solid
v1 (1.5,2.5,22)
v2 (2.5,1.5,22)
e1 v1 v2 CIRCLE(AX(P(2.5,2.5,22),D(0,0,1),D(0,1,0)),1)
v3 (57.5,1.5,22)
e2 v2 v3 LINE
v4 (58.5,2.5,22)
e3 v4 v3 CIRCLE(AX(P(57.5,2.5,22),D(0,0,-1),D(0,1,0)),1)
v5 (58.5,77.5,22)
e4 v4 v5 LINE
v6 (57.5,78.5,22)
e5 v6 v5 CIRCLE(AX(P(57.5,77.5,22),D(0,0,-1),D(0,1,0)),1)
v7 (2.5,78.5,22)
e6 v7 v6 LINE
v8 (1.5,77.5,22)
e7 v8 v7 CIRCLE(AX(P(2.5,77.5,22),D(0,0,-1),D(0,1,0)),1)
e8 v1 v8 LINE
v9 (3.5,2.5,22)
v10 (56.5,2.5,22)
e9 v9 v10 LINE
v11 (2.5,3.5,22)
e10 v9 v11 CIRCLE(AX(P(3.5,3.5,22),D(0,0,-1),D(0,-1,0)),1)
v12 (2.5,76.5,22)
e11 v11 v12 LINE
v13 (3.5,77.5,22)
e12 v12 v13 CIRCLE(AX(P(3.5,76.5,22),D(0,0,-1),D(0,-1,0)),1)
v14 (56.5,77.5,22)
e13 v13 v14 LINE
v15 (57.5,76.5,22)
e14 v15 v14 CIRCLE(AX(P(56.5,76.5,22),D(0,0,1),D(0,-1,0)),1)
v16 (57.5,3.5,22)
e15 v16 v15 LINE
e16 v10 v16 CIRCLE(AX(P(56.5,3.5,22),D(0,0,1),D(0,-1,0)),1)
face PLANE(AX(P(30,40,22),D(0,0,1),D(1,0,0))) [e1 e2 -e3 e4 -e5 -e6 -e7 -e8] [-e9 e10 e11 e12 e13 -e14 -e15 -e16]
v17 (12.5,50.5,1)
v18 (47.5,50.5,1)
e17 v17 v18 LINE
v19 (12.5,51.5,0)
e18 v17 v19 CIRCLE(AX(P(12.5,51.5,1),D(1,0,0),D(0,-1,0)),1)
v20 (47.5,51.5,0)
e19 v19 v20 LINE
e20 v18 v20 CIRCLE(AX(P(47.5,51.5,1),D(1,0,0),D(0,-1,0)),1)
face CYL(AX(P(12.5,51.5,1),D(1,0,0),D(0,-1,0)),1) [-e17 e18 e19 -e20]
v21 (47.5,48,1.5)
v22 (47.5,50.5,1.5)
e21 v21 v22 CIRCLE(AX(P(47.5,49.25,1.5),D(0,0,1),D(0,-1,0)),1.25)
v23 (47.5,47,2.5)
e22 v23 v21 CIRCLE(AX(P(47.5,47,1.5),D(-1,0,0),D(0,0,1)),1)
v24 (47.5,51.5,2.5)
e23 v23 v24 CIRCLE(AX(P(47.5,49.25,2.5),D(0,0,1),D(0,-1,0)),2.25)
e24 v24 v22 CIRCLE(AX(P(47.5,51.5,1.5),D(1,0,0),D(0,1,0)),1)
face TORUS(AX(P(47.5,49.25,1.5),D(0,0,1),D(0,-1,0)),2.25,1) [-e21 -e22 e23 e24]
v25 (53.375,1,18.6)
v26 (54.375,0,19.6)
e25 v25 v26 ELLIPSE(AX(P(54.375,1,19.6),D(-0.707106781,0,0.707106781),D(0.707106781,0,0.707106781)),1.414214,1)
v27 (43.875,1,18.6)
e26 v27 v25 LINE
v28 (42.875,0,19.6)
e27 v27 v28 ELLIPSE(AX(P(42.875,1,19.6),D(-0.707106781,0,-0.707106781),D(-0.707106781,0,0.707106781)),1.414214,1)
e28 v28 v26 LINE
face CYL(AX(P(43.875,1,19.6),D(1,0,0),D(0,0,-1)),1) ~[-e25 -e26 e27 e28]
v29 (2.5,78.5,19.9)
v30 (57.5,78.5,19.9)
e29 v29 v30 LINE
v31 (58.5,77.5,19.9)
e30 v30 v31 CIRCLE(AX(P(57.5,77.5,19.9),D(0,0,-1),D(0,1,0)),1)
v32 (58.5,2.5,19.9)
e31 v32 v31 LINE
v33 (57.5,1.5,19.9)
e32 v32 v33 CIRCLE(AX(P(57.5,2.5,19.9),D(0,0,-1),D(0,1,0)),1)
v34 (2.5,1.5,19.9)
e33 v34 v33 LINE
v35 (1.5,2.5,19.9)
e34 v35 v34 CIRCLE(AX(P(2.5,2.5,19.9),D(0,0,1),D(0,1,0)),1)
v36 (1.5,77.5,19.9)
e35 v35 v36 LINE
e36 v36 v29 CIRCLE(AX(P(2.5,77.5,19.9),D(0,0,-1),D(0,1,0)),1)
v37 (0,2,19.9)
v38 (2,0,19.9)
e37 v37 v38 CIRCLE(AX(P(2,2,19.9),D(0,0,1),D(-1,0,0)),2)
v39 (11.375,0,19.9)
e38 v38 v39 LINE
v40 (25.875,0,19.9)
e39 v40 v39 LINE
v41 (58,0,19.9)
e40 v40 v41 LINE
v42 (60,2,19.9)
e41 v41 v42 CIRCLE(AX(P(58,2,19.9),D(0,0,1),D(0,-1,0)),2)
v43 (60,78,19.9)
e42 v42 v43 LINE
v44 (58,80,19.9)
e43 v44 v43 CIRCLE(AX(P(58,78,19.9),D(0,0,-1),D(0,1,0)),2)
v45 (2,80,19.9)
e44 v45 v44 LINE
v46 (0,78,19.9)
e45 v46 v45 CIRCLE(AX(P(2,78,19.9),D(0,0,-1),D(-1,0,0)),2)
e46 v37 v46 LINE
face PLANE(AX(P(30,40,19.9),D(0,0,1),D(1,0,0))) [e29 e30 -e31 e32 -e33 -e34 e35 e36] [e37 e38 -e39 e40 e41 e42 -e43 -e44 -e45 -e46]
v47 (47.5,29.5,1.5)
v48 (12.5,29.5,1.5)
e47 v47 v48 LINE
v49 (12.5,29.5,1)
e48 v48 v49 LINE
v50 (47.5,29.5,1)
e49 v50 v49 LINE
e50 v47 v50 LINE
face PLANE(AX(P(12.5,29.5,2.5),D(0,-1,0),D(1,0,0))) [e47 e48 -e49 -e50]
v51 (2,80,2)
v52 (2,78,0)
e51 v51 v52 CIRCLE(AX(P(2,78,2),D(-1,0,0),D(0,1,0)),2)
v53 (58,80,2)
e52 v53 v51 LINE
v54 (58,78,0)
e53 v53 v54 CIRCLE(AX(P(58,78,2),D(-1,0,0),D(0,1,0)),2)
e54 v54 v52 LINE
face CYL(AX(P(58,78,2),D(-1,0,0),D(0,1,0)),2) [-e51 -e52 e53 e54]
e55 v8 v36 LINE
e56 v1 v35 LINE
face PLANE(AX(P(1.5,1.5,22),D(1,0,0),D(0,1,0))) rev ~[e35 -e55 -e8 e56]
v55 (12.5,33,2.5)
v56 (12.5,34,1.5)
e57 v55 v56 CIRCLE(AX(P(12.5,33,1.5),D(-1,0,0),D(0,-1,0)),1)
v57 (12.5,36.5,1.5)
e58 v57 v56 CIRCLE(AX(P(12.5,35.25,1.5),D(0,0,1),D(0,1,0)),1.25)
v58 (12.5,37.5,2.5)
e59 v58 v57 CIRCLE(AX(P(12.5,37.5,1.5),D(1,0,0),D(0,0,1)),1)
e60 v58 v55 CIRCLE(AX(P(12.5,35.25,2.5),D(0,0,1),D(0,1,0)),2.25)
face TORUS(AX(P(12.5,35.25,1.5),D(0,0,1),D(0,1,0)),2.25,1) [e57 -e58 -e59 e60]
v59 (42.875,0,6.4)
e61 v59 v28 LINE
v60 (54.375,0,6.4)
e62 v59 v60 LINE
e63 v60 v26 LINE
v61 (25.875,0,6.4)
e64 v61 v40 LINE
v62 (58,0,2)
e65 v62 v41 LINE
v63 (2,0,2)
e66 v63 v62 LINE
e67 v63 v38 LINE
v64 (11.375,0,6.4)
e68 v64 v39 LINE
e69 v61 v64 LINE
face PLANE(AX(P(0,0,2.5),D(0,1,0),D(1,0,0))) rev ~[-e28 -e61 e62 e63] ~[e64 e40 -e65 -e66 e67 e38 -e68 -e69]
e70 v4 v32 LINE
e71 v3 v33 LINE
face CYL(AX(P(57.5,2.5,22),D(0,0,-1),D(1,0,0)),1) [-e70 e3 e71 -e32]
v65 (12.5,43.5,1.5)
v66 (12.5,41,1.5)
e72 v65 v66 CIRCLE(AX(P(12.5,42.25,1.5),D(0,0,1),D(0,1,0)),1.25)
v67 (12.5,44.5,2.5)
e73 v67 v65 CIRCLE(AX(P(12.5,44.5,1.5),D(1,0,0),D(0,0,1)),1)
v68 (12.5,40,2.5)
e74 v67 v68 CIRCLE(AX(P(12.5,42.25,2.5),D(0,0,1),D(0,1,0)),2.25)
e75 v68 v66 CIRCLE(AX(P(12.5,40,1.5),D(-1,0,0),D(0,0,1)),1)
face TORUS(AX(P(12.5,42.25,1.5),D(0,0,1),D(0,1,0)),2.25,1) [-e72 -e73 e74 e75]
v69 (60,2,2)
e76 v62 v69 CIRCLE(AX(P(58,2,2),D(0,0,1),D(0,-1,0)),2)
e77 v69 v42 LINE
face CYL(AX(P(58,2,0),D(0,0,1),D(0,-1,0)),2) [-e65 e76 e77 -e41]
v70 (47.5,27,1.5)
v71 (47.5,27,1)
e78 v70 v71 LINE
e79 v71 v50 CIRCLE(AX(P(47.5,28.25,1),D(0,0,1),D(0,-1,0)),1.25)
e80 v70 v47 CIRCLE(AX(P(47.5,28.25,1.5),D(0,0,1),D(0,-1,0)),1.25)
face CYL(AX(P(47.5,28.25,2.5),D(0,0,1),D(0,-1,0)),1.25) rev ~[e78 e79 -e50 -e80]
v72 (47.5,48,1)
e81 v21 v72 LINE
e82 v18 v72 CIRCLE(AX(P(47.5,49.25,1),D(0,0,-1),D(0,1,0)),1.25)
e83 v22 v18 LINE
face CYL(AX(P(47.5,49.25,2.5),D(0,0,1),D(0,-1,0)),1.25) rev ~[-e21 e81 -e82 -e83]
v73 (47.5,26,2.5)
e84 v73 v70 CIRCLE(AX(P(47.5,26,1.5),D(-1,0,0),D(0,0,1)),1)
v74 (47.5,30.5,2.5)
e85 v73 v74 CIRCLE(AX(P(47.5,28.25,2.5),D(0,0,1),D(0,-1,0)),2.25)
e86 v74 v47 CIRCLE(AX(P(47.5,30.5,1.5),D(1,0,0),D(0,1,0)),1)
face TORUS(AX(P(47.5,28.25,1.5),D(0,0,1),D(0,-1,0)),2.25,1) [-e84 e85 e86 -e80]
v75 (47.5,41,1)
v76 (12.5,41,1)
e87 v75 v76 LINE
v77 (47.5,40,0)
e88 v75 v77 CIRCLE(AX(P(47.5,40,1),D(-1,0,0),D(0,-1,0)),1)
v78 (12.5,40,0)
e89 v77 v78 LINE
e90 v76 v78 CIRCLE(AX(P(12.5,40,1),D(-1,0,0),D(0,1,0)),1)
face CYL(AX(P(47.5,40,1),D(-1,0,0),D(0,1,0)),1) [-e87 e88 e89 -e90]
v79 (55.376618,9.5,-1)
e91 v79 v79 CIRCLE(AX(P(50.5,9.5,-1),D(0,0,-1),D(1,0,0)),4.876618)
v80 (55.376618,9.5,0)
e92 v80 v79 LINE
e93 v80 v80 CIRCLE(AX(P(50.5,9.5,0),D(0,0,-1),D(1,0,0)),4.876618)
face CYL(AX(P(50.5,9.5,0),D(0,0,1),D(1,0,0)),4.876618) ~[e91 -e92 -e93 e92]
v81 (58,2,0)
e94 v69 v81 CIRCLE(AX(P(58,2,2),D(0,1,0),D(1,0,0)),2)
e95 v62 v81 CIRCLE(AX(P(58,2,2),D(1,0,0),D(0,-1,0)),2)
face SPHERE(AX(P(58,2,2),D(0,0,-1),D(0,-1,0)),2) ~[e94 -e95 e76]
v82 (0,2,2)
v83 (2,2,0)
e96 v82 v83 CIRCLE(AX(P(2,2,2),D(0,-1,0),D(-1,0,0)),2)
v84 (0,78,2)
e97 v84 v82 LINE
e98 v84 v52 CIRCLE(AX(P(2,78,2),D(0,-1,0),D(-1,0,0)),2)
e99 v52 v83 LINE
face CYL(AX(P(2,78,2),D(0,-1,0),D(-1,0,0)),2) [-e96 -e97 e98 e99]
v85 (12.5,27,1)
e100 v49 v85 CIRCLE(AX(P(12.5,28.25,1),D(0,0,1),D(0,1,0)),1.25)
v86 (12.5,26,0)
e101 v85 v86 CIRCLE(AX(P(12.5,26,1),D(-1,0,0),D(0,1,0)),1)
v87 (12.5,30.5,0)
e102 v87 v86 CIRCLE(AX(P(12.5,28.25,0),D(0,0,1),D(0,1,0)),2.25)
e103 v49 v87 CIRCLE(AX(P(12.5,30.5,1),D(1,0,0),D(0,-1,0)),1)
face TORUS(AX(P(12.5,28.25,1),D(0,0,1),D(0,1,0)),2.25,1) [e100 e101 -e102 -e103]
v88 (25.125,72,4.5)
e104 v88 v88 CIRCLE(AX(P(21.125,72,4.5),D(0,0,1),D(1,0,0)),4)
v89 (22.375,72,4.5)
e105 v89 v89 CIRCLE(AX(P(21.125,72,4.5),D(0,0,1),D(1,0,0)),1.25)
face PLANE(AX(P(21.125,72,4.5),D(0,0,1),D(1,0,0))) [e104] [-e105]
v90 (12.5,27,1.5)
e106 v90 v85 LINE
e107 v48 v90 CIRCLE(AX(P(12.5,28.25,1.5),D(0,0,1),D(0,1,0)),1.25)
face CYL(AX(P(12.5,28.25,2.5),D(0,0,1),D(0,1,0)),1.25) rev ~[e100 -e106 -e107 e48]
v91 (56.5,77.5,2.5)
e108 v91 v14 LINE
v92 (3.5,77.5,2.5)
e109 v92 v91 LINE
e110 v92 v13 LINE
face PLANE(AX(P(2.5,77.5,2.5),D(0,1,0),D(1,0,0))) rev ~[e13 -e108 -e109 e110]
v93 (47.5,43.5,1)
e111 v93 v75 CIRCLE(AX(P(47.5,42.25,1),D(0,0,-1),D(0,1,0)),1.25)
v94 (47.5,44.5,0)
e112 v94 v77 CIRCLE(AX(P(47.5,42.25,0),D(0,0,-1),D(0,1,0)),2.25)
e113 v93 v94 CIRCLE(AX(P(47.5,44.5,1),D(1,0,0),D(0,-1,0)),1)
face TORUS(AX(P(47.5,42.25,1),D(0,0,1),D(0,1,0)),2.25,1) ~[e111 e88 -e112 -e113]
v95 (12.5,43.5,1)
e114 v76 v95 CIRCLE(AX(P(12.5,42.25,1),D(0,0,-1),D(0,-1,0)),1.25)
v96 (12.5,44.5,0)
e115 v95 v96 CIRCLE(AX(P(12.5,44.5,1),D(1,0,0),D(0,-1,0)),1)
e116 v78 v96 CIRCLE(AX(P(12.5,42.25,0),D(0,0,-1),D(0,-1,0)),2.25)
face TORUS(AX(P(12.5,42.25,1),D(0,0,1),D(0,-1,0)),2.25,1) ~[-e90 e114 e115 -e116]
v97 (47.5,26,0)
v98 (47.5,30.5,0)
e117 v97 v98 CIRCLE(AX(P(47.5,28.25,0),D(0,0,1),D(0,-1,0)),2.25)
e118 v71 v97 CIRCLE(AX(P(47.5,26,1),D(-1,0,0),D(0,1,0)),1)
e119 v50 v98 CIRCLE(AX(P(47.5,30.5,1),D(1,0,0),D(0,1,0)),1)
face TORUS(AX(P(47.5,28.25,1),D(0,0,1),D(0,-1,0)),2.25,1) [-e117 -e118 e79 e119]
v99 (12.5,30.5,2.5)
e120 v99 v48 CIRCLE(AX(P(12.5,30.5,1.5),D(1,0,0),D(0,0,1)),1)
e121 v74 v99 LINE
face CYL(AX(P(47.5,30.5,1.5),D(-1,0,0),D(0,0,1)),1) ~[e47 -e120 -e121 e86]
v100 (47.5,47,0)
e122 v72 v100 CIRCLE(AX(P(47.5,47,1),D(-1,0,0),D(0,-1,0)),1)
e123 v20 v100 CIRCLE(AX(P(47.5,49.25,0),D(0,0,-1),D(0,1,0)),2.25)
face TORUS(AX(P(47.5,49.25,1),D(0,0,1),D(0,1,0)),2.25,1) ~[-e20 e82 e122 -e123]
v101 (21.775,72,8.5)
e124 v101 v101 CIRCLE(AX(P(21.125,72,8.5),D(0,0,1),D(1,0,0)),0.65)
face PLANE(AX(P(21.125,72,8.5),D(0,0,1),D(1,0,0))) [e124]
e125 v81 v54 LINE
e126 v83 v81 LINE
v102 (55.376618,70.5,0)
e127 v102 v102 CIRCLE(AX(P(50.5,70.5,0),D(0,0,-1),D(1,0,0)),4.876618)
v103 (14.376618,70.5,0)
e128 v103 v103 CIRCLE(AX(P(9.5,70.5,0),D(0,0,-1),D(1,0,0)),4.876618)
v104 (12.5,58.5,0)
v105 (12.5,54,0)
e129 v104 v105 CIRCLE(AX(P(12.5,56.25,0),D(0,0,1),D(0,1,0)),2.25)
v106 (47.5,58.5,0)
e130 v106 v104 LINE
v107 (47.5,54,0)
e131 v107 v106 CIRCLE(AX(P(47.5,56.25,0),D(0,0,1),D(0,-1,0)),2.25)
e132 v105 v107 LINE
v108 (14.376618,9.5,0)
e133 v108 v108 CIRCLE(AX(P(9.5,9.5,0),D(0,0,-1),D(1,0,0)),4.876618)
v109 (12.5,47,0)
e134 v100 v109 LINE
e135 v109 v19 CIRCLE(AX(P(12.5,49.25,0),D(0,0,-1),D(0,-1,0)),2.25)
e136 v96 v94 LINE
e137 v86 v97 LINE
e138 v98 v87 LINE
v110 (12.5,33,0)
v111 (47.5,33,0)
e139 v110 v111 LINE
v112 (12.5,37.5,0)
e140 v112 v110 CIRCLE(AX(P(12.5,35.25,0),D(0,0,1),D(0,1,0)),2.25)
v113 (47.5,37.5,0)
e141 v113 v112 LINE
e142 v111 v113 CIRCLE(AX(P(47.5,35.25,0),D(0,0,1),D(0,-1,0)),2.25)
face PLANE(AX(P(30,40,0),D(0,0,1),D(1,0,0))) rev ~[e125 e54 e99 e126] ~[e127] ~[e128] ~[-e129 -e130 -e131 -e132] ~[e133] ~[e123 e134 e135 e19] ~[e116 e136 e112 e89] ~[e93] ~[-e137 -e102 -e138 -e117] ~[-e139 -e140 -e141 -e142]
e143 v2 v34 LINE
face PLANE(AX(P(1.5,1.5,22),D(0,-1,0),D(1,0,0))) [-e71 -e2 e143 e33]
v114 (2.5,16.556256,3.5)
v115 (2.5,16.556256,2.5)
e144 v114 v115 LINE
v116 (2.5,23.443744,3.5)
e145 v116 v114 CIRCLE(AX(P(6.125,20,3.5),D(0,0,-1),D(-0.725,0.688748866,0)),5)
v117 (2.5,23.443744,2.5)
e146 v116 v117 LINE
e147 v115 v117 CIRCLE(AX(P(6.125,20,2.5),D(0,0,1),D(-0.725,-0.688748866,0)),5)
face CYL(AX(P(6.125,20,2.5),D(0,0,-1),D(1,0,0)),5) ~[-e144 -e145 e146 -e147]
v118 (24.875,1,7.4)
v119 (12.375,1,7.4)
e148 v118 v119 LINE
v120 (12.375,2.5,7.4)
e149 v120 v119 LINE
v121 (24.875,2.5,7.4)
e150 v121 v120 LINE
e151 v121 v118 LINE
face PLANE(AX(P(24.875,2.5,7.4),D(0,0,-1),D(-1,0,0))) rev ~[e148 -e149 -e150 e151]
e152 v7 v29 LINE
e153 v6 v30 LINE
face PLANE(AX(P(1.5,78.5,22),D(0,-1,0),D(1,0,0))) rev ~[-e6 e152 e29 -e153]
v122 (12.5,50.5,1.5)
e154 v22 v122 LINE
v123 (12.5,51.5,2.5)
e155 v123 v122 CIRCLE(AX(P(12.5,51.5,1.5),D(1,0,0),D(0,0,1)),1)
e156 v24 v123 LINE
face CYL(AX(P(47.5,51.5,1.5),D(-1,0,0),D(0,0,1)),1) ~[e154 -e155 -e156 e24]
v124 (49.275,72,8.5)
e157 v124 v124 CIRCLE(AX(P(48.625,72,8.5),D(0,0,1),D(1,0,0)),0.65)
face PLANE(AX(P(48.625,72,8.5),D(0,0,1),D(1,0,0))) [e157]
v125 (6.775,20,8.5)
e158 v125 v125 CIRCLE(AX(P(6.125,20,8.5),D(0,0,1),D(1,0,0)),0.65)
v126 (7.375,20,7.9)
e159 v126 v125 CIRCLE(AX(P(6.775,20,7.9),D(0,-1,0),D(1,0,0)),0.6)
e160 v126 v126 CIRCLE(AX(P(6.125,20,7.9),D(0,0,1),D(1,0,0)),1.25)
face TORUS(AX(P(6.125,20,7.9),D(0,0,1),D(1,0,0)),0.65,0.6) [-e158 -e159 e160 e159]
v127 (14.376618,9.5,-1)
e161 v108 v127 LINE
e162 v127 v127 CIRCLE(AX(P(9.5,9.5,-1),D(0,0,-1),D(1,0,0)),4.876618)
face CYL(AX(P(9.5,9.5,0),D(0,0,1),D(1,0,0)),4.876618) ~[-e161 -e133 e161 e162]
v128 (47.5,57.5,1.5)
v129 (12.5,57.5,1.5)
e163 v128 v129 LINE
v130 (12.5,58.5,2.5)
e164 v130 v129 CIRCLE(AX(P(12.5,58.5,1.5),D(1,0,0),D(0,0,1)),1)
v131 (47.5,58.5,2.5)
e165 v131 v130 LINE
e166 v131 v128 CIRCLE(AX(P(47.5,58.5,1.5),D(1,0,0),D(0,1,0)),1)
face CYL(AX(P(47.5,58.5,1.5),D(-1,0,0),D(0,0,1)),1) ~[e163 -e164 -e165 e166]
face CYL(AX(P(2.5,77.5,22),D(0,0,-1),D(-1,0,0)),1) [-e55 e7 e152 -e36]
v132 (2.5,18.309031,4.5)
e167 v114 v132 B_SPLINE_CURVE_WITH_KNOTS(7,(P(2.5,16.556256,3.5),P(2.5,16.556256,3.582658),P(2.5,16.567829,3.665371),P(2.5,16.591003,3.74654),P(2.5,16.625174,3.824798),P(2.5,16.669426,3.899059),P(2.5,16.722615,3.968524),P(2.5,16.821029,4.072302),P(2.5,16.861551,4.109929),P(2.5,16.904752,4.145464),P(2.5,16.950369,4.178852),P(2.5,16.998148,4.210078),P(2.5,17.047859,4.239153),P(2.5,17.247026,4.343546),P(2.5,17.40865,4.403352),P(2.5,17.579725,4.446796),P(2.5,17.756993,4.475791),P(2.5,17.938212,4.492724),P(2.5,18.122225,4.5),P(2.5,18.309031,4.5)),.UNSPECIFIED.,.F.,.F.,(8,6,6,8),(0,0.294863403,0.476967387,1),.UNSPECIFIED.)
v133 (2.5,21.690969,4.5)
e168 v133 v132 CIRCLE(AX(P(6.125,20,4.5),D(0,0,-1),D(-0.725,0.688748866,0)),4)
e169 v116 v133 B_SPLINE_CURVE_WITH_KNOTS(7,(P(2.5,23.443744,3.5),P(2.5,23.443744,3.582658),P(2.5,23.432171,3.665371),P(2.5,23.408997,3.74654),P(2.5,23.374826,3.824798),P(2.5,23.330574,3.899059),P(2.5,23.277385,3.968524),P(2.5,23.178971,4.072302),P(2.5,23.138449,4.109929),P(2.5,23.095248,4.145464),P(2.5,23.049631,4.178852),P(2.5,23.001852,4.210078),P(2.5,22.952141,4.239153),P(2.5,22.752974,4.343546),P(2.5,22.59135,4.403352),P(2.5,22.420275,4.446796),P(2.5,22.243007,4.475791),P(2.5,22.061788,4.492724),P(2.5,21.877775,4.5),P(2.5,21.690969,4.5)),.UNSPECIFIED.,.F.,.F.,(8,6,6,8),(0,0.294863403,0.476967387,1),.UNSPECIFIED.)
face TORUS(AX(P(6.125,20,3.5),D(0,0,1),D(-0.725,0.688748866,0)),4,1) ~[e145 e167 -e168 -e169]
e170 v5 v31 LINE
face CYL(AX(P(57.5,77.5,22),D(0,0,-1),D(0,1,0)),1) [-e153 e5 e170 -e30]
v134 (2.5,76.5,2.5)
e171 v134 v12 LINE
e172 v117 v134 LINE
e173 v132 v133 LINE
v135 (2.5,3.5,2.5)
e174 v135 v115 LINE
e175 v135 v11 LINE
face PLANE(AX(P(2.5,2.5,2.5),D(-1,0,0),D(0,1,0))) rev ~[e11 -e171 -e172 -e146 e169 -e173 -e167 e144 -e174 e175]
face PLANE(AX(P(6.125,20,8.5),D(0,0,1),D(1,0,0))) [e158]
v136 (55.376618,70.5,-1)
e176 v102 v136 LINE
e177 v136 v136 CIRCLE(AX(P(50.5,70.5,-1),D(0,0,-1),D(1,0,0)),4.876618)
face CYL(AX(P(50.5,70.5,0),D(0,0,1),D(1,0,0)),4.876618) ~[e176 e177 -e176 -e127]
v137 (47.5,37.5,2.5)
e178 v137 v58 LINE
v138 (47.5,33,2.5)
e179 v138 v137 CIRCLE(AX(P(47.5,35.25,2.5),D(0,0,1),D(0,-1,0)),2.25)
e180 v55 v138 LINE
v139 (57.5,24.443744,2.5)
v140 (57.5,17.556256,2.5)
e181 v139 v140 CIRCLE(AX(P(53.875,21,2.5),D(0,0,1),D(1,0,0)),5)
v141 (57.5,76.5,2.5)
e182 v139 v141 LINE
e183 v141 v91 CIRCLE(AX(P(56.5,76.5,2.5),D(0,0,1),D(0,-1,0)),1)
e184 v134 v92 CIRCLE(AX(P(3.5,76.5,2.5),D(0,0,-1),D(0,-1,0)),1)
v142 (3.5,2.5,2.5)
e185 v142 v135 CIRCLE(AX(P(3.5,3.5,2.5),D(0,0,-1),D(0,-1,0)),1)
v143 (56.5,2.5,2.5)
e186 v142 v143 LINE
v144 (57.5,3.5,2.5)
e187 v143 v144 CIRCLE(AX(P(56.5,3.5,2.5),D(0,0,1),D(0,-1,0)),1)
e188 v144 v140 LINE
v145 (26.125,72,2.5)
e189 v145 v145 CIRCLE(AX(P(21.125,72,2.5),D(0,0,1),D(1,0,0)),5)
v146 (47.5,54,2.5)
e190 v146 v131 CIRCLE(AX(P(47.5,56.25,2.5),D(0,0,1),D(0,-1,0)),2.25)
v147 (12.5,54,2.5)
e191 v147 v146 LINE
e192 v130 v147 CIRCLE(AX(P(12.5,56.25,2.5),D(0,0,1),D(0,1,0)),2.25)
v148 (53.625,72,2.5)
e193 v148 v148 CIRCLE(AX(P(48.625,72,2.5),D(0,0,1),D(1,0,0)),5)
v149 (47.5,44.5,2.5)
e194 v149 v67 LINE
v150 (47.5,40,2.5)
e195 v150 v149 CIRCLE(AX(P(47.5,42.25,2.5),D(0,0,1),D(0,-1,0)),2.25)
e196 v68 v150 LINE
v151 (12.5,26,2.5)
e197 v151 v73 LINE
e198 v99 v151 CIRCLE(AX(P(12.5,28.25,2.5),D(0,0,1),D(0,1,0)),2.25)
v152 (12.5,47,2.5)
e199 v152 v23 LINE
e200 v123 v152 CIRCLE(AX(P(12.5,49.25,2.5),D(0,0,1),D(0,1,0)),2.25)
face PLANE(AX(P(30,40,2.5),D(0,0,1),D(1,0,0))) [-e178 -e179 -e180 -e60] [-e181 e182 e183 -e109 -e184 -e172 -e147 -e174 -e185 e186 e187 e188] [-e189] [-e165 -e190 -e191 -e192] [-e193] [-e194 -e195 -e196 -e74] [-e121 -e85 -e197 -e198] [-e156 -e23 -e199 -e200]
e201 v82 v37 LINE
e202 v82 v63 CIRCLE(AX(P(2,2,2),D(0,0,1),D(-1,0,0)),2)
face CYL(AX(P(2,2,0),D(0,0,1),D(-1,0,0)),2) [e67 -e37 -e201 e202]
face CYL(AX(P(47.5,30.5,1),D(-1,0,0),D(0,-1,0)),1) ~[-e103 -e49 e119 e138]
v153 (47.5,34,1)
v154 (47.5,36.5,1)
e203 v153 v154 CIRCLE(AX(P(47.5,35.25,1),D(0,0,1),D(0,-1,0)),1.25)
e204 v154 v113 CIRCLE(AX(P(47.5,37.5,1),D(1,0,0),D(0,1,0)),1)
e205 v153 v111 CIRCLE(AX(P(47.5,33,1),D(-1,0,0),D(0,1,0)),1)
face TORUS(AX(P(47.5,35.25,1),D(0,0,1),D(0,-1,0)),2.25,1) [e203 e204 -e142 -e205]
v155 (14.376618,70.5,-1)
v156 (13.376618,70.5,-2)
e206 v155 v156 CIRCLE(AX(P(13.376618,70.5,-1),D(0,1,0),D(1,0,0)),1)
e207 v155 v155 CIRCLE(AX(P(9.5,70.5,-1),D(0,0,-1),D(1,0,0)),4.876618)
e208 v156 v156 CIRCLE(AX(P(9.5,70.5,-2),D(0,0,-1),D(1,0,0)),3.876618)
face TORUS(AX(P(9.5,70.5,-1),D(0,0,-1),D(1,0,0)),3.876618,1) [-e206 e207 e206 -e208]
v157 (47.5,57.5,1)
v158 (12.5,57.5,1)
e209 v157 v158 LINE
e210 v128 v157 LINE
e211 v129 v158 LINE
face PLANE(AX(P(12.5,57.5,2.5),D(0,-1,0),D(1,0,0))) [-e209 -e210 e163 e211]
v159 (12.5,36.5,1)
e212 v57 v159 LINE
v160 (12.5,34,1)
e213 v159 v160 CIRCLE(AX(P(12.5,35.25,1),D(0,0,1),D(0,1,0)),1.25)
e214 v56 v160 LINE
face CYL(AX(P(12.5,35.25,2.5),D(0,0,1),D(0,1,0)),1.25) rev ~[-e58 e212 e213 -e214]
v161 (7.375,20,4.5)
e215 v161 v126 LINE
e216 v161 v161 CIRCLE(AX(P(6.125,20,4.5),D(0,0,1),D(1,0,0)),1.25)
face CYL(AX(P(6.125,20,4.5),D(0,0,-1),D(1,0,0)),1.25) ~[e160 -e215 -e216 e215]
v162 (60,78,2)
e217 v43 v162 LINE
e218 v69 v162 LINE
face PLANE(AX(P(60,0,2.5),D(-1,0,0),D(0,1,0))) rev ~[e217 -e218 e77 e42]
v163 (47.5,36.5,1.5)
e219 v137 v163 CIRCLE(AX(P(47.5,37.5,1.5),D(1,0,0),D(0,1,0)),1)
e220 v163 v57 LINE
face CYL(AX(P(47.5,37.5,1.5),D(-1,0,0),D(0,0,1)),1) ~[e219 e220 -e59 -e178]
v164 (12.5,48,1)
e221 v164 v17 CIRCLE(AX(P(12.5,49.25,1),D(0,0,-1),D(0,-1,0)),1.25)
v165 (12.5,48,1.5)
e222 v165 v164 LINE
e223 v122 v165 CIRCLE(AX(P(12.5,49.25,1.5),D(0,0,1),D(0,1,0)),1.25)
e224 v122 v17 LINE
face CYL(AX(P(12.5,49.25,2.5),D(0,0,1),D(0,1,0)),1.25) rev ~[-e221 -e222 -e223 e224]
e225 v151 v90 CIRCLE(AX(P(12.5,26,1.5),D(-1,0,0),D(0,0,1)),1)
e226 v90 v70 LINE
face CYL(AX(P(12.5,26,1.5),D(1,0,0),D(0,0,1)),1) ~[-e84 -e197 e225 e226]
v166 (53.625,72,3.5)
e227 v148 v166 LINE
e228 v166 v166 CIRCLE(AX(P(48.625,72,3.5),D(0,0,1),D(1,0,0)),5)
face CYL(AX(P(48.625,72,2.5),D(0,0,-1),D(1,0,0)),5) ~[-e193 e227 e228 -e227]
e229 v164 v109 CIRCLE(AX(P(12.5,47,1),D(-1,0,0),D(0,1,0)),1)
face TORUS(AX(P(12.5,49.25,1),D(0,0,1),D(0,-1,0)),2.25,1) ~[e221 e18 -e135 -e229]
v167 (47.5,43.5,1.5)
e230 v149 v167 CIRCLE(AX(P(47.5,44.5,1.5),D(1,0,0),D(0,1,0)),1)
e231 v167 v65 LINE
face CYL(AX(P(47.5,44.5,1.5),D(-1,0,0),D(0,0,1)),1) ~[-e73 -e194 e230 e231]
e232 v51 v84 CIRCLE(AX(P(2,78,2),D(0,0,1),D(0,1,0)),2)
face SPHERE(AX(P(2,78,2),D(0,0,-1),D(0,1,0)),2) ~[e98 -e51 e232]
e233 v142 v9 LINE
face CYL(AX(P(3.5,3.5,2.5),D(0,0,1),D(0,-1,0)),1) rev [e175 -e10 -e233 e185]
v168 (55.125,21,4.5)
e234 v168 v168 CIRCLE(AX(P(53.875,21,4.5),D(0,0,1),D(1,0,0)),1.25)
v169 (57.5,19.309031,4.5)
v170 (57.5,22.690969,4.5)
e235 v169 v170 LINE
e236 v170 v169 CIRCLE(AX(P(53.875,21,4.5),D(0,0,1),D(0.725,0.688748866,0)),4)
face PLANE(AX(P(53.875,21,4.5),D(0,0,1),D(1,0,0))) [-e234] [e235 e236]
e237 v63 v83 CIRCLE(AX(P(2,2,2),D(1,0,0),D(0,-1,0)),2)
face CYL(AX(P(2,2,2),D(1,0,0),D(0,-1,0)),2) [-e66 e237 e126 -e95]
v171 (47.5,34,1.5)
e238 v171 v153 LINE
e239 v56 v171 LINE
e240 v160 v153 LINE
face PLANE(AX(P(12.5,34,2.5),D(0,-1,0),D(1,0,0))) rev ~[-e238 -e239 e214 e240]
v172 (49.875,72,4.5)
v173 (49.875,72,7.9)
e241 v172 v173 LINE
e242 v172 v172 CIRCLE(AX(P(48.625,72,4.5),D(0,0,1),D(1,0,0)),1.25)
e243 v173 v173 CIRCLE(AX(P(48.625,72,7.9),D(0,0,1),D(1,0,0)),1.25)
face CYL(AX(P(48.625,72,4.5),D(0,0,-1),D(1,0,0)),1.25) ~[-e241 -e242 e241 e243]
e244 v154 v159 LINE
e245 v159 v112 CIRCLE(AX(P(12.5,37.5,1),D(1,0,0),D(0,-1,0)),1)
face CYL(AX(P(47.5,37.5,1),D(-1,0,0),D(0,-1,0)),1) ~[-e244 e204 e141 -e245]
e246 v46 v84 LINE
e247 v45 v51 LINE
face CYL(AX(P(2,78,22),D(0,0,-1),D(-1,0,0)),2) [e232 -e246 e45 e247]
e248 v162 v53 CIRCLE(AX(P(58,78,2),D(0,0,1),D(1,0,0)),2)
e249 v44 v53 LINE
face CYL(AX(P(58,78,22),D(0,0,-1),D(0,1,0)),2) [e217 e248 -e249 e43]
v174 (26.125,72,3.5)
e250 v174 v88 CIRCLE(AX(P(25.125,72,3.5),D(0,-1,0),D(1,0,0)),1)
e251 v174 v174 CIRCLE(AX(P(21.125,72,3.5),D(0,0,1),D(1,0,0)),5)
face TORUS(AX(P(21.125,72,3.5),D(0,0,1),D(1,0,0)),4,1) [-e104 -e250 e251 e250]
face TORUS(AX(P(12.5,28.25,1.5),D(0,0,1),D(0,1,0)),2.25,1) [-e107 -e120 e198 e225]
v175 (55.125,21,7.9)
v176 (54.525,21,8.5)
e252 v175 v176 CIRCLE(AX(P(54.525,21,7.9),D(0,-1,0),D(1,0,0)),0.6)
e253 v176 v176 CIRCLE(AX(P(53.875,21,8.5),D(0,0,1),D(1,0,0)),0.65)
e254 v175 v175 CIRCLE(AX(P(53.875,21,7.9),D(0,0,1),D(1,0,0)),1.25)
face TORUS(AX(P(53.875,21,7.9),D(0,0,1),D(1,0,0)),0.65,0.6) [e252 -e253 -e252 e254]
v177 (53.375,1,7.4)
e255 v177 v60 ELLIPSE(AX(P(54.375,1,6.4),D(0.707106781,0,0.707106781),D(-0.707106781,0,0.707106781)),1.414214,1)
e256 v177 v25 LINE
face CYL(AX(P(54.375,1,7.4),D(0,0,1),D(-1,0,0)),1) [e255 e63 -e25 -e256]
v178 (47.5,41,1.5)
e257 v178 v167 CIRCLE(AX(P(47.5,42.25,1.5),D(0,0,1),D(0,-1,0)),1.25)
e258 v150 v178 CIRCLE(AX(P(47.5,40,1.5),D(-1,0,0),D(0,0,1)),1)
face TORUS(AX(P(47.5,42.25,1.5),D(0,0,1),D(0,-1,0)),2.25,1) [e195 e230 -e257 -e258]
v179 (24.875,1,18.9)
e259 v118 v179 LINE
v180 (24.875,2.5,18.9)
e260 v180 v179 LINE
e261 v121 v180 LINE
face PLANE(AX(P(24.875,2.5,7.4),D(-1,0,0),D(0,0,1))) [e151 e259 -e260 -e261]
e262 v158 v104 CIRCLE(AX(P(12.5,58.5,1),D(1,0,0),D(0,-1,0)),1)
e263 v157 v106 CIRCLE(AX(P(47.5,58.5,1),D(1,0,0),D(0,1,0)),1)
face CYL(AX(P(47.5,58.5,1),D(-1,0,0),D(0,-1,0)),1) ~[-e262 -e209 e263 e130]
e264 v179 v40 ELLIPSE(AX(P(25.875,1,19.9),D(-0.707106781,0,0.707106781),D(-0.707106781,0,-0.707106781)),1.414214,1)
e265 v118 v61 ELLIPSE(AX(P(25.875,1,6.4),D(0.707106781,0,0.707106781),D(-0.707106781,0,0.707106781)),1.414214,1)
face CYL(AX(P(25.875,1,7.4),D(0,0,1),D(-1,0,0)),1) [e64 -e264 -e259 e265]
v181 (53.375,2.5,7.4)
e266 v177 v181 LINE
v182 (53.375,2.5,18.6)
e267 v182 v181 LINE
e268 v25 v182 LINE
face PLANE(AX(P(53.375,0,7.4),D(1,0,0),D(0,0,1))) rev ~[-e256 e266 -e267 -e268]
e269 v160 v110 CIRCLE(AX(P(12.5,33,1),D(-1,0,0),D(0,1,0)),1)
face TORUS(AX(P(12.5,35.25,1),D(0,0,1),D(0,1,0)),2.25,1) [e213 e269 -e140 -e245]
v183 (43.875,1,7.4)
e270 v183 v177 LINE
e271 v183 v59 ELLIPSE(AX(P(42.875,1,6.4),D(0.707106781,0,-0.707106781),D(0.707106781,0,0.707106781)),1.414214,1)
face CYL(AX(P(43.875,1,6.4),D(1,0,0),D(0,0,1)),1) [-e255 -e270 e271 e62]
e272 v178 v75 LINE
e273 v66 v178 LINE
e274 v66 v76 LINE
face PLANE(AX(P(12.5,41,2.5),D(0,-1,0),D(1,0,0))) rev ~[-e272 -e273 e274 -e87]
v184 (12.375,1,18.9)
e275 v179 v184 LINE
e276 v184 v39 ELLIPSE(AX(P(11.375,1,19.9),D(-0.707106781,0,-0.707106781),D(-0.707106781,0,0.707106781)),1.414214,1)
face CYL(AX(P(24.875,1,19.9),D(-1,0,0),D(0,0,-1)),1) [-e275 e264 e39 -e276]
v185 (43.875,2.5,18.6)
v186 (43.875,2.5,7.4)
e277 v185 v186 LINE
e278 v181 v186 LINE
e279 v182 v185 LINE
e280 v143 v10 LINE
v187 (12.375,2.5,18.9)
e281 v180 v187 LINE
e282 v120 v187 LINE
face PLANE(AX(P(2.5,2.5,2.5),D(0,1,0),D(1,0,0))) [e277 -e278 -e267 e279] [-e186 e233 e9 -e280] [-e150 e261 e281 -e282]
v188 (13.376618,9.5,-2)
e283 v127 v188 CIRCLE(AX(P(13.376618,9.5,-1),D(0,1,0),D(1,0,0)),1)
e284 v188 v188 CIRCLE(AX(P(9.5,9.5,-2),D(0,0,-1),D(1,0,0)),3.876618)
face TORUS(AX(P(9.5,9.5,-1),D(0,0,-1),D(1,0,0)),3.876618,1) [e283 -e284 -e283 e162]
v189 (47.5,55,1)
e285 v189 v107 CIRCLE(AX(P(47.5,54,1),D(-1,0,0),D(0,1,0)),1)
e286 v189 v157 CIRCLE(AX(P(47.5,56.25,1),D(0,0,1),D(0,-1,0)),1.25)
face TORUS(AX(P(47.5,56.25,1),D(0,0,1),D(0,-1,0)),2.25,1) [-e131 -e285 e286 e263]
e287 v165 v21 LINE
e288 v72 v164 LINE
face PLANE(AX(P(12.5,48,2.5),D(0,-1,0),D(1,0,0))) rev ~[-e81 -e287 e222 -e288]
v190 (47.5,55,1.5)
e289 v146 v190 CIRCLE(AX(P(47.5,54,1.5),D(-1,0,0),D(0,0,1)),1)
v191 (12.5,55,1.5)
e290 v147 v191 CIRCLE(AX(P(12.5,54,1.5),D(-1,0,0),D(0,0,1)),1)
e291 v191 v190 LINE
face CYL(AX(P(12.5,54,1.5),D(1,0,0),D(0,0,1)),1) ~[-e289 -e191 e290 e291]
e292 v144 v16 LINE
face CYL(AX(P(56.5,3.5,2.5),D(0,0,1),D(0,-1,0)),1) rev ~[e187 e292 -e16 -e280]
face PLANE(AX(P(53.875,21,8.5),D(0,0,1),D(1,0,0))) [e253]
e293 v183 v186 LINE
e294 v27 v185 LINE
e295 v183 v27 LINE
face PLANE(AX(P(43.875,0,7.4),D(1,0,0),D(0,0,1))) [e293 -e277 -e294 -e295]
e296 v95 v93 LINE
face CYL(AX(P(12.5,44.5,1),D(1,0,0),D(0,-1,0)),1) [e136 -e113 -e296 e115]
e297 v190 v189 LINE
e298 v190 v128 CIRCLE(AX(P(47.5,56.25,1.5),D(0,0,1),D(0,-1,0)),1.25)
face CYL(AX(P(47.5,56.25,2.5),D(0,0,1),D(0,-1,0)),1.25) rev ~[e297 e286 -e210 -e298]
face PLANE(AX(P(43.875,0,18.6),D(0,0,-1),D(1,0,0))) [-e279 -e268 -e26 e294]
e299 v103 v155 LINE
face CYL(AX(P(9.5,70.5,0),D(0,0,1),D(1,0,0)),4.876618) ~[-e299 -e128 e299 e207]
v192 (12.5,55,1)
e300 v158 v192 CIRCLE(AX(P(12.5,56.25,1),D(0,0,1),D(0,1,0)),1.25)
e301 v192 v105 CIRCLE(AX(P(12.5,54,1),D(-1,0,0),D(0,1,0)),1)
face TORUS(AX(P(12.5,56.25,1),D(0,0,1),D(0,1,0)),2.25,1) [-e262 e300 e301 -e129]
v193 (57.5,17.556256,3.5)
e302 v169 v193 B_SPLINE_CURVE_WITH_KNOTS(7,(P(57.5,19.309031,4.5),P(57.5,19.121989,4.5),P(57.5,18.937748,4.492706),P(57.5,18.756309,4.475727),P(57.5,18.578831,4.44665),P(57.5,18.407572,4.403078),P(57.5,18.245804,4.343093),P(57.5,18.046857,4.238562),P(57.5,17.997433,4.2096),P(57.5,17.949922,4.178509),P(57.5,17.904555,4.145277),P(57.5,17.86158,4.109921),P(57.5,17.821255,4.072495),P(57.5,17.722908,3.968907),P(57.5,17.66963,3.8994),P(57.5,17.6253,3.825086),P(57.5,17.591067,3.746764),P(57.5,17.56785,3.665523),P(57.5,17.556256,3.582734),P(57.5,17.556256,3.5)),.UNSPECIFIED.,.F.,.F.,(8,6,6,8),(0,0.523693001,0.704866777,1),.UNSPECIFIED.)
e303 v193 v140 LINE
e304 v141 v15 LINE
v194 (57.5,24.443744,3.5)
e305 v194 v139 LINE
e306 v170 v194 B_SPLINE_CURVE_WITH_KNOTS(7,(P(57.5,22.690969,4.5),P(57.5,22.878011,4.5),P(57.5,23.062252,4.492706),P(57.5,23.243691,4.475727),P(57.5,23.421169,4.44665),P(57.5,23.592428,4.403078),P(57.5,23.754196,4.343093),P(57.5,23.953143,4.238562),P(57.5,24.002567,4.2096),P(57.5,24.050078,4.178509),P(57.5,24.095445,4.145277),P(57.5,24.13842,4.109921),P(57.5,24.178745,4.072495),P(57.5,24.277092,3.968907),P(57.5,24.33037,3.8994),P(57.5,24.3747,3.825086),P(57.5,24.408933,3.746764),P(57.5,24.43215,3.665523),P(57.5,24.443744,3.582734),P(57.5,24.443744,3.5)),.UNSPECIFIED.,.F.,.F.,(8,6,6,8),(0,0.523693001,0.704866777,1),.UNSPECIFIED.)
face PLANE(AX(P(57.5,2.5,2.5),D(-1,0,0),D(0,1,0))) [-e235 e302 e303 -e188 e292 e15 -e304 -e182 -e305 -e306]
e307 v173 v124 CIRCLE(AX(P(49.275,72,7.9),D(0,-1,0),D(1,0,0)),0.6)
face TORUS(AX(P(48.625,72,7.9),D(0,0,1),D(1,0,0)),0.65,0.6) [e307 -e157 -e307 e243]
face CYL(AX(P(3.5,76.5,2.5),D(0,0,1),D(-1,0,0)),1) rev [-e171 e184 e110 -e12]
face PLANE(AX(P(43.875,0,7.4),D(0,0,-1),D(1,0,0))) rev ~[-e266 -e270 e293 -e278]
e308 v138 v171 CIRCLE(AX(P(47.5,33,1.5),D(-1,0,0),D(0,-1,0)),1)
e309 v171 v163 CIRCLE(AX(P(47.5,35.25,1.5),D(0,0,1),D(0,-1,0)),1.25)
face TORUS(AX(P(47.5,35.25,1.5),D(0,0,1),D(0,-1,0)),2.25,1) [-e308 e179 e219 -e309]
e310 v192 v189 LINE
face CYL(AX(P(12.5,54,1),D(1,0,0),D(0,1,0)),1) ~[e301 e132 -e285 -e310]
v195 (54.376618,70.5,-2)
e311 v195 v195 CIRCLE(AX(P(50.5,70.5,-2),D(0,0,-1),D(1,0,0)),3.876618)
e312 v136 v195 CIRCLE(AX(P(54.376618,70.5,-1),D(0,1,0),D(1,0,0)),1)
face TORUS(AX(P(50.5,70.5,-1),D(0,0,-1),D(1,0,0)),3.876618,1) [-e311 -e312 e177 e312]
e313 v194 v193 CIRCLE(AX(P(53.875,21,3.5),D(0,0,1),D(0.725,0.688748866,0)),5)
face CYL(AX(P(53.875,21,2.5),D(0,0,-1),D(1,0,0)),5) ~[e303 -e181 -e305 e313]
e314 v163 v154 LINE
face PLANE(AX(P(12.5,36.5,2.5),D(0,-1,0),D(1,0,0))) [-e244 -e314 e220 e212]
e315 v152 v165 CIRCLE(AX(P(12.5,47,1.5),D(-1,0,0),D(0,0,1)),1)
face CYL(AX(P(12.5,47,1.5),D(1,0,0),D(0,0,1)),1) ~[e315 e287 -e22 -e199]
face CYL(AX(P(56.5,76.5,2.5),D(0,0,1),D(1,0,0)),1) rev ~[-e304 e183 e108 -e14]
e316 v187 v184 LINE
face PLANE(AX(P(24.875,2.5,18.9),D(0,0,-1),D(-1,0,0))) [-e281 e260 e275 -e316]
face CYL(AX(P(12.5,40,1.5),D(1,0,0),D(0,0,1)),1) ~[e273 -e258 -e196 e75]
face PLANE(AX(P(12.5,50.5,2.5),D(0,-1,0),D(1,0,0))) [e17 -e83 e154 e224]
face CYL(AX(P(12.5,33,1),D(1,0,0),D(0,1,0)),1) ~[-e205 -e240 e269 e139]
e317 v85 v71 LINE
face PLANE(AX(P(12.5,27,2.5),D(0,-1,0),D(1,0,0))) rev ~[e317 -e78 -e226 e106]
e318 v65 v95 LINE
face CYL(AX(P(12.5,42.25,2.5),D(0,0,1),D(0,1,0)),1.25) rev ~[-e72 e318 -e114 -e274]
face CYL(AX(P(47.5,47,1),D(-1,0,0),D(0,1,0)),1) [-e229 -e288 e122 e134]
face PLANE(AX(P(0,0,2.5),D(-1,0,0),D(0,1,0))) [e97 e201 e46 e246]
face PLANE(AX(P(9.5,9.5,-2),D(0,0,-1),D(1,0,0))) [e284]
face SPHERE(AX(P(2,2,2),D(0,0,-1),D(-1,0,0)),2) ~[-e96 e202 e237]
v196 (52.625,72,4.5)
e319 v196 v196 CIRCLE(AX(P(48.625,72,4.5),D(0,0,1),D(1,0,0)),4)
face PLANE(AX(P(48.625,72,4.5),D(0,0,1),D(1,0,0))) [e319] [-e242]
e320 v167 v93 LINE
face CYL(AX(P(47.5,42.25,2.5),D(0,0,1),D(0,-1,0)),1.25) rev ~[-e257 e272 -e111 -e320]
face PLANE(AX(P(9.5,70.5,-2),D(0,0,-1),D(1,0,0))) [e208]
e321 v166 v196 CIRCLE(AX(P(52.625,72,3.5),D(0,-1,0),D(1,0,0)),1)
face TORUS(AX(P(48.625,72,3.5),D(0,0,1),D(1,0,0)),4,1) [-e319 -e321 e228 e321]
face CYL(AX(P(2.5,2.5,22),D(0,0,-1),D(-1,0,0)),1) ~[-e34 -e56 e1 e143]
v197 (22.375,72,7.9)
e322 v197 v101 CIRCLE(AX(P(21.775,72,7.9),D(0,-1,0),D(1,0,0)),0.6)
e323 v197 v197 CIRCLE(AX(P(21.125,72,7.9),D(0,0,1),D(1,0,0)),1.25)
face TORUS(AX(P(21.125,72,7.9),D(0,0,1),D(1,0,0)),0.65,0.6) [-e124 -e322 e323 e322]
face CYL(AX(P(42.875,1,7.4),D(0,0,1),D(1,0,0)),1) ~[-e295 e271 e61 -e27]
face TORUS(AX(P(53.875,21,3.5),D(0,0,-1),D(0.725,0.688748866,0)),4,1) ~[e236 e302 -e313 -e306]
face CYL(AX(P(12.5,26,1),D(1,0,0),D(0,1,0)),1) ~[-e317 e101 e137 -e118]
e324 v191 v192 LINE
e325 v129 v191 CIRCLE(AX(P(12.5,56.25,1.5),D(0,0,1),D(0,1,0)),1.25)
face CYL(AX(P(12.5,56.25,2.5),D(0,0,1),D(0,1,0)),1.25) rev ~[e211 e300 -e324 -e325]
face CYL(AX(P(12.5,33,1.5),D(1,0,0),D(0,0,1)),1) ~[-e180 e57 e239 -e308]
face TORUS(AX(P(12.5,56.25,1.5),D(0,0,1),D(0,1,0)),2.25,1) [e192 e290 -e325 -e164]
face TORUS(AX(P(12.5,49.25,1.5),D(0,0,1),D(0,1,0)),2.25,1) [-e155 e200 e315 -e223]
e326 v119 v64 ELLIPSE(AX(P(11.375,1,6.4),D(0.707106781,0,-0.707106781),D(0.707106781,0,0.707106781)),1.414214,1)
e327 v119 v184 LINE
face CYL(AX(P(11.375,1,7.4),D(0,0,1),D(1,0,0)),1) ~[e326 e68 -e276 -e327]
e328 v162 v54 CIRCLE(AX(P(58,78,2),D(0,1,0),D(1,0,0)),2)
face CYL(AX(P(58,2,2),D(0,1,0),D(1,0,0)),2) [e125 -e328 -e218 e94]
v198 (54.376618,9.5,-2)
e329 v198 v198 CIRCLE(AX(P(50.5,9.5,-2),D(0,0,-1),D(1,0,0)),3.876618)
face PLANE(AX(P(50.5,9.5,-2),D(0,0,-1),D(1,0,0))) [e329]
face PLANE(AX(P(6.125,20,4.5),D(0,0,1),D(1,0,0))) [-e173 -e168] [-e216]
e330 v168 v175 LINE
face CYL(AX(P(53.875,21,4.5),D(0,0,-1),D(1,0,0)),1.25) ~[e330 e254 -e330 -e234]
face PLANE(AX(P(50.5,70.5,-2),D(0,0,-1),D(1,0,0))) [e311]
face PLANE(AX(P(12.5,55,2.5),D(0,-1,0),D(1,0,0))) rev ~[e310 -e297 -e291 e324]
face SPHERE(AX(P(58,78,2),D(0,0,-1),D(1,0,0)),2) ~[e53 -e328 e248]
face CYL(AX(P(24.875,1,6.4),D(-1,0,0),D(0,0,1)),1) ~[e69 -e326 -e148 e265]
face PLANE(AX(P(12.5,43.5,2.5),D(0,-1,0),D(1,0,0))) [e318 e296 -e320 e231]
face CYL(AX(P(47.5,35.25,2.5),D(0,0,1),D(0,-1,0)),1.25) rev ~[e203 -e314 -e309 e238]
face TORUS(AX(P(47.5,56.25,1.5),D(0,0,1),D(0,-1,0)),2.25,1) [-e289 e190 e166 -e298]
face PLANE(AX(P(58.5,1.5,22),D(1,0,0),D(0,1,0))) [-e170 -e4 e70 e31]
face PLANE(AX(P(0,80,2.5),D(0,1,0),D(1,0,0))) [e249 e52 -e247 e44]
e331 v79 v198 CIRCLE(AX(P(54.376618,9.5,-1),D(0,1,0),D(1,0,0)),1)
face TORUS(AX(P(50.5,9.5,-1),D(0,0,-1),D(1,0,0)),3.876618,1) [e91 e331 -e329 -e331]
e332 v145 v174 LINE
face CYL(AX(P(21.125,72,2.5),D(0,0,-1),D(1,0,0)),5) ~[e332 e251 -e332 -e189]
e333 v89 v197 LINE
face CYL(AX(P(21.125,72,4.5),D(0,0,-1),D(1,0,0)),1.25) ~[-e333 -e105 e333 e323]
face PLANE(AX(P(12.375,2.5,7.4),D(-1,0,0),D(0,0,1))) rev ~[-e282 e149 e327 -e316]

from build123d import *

# Parameters (mm, degrees)
SKETCH_W            = 60
SKETCH_H            = 80
PAD_DEPTH           = 2.5
SKETCH001_W         = 60
SKETCH001_H         = 80
SKETCH001_W_2       = 55
SKETCH001_H_2       = 75
PAD001_DEPTH        = 19.5
SKETCH003_R         = 5
PAD002_DEPTH        = 2
SKETCH004_R         = 1.25
PAD003_DEPTH        = 4
SKETCH006_W         = 12.5
SKETCH006_H         = 11.5
POCKET_DEPTH        = 5
SKETCH007_W         = 9.5
SKETCH007_H         = 11.2
POCKET001_DEPTH     = 5
FILLET_R            = 2
FILLET001_R         = 2
FILLET002_R         = 0.6
FILLET003_R         = 1
FILLET004_R         = 1
SKETCH008_W         = 60
SKETCH008_H         = 80
SKETCH008_W_2       = 57
SKETCH008_H_2       = 77
POCKET002_DEPTH     = 2.1
FILLET005_R         = 1
POCKET003_DEPTH     = 5
LINEARPATTERN_COUNT = 5
LINEARPATTERN_PITCH = 7
FILLET006_R         = 1
SKETCH010_R         = 4.876618
PAD004_DEPTH        = 2
FILLET007_R         = 1


with BuildPart() as part:
    # Sketch → Pad (new body)
    with BuildSketch(Plane.XY):
        with Locations((30, 40)):
            Rectangle(SKETCH_W, SKETCH_H)
    extrude(amount=PAD_DEPTH)

    # Sketch001 (on Face6 of Pad) → Pad001 (join)
    with BuildSketch(Plane.XY.offset(2.5)):
        with Locations((30, 40)):
            Rectangle(SKETCH001_W, SKETCH001_H)
        with Locations((30, 40)):
            Rectangle(SKETCH001_W_2, SKETCH001_H_2, mode=Mode.SUBTRACT)
    extrude(amount=PAD001_DEPTH)

    # Sketch003 (on Face8 of Pad001) → Pad002 (join)
    with BuildSketch(Plane.XY.offset(2.5)):
        with Locations((21.125, 72)):
            Circle(SKETCH003_R)
        with Locations((48.625, 72)):
            Circle(SKETCH003_R)
        with Locations((6.125, 20)):
            Circle(SKETCH003_R)
        with Locations((53.875, 21)):
            Circle(SKETCH003_R)
    extrude(amount=PAD002_DEPTH)

    # Sketch004 (on Face17 of Pad002) → Pad003 (join)
    with BuildSketch(Plane.XY.offset(4.5)):
        with Locations((21.125, 72)):
            Circle(SKETCH004_R)
        with Locations((6.125, 20)):
            Circle(SKETCH004_R)
        with Locations((53.875, 21)):
            Circle(SKETCH004_R)
        with Locations((48.625, 72)):
            Circle(SKETCH004_R)
    extrude(amount=PAD003_DEPTH)

    # Sketch006 (on Face8 of Pad003) → Pocket (cut)
    with BuildSketch(Plane(origin=(0, 2.5, 0), x_dir=(-1, 0, 0), z_dir=(0, 1, 0))):
        with Locations((-18.625, 13.15)):
            Rectangle(SKETCH006_W, SKETCH006_H)
    extrude(amount=-POCKET_DEPTH, mode=Mode.SUBTRACT)

    # Sketch007 (on Face2 of Pocket) → Pocket001 (cut)
    with BuildSketch(Plane.XZ):
        with Locations((48.625, 13)):
            Rectangle(SKETCH007_W, SKETCH007_H)
    extrude(amount=-POCKET001_DEPTH, mode=Mode.SUBTRACT)

    # Fillet
    fillet_edges = [part.edges().sort_by_distance(p)[0] for p in [
        (60, 0, 11),
        (0, 0, 11),
        (60, 80, 11),
        (0, 80, 11),
    ]]
    fillet(fillet_edges, radius=FILLET_R)

    # Fillet001
    fillet001_edges = [part.edges().sort_by_distance(p)[0] for p in [
        (60, 40, 0),
        (30, 0, 0),
        (59.414214, 0.585786, 0),
        (0, 40, 0),
        (30, 80, 0),
        (0.585786, 0.585786, 0),
        (0.585786, 79.414214, 0),
        (59.414214, 79.414214, 0),
    ]]
    fillet(fillet001_edges, radius=FILLET001_R)

    # Fillet002
    fillet002_edges = [part.edges().sort_by_distance(p)[0] for p in [
        (4.875, 20, 8.5),
        (19.875, 72, 8.5),
        (47.375, 72, 8.5),
        (52.625, 21, 8.5),
    ]]
    fillet(fillet002_edges, radius=FILLET002_R)

    # Fillet003
    fillet003_edges = [part.edges().sort_by_distance(p)[0] for p in [
        (7.97905, 15.356456, 4.5),
        (7.97905, 24.643544, 4.5),
        (48.875, 21, 4.5),
        (16.125, 72, 4.5),
        (43.625, 72, 4.5),
    ]]
    fillet(fillet003_edges, radius=FILLET003_R)

    # Fillet004
    fillet004_edges = [part.edges().sort_by_distance(p)[0] for p in [
        (12.375, 0, 13.15),
        (18.625, 0, 18.9),
        (24.875, 0, 13.15),
        (18.625, 0, 7.4),
        (43.875, 0, 13),
        (48.625, 0, 18.6),
        (53.375, 0, 13),
        (48.625, 0, 7.4),
    ]]
    fillet(fillet004_edges, radius=FILLET004_R)

    # Sketch008 (on Face8 of Fillet004) → Pocket002 (cut)
    with BuildSketch(Plane.XY.offset(22)):
        with Locations((30, 40)):
            Rectangle(SKETCH008_W, SKETCH008_H)
        with Locations((30, 40)):
            Rectangle(SKETCH008_W_2, SKETCH008_H_2, mode=Mode.SUBTRACT)
    extrude(amount=-POCKET002_DEPTH, mode=Mode.SUBTRACT)

    # Fillet005
    fillet005_edges = [part.edges().sort_by_distance(p)[0] for p in [
        (58.5, 78.5, 20.95),
        (58.5, 1.5, 20.95),
        (1.5, 1.5, 20.95),
        (2.5, 77.5, 12.25),
        (1.5, 78.5, 20.95),
        (57.5, 2.5, 12.25),
        (2.5, 2.5, 12.25),
        (57.5, 77.5, 12.25),
    ]]
    fillet(fillet005_edges, radius=FILLET005_R)

    # Sketch009 (on Face52 of PolarPattern) → Pocket003 (cut)
    with BuildSketch(Plane.XY.offset(2.5)):
        with BuildLine():
            ThreePointArc((12.5, 57.5), (11.25, 56.25), (12.5, 55))
            Line((12.5, 55), (47.5, 55))
            ThreePointArc((47.5, 55), (48.75, 56.25), (47.5, 57.5))
            Line((12.5, 57.5), (47.5, 57.5))
        make_face()
    pocket003 = extrude(amount=-POCKET003_DEPTH, mode=Mode.SUBTRACT)

    # LinearPattern: Pocket003 ×5
    with Locations(*[(0, -i * LINEARPATTERN_PITCH, 0) for i in range(1, LINEARPATTERN_COUNT)]):
        add(pocket003, mode=Mode.SUBTRACT)

    # Fillet006
    fillet006_edges = [part.edges().sort_by_distance(p)[0] for p in [
        (30, 27, 0),
        (30, 29.5, 0),
        (48.75, 28.25, 0),
        (11.25, 28.25, 0),
        (30, 34, 0),
        (48.75, 35.25, 0),
        (30, 36.5, 0),
        (11.25, 35.25, 0),
        (30, 43.5, 0),
        (48.75, 42.25, 0),
        (11.25, 42.25, 0),
        (30, 50.5, 0),
        (48.75, 49.25, 0),
        (30, 48, 0),
        (11.25, 49.25, 0),
        (30, 41, 0),
        (30, 55, 0),
        (30, 57.5, 0),
        (48.75, 56.25, 0),
        (11.25, 56.25, 0),
        (30, 27, 2.5),
        (30, 29.5, 2.5),
        (11.25, 28.25, 2.5),
        (48.75, 28.25, 2.5),
        (48.75, 35.25, 2.5),
        (30, 36.5, 2.5),
        (30, 34, 2.5),
        (11.25, 35.25, 2.5),
        (30, 41, 2.5),
        (11.25, 42.25, 2.5),
        (30, 43.5, 2.5),
        (48.75, 42.25, 2.5),
        (30, 48, 2.5),
        (30, 50.5, 2.5),
        (48.75, 49.25, 2.5),
        (11.25, 49.25, 2.5),
        (30, 55, 2.5),
        (11.25, 56.25, 2.5),
        (30, 57.5, 2.5),
        (48.75, 56.25, 2.5),
    ]]
    fillet(fillet006_edges, radius=FILLET006_R)

    # Sketch010 (on Face1 of Fillet006) → Pad004 (join)
    with BuildSketch(Plane(origin=(0, 0, 0), x_dir=(1, 0, 0), z_dir=(0, 0, -1))):
        with Locations((9.5, -9.5)):
            Circle(SKETCH010_R)
        with Locations((50.5, -9.5)):
            Circle(SKETCH010_R)
        with Locations((50.5, -70.5)):
            Circle(SKETCH010_R)
        with Locations((9.5, -70.5)):
            Circle(SKETCH010_R)
    extrude(amount=PAD004_DEPTH)

    # Fillet007
    fillet007_edges = [part.edges().sort_by_distance(p)[0] for p in [
        (4.623382, 9.5, -2),
        (45.623382, 9.5, -2),
        (45.623382, 70.5, -2),
        (4.623382, 70.5, -2),
    ]]
    fillet(fillet007_edges, radius=FILLET007_R)


solid = part.part
